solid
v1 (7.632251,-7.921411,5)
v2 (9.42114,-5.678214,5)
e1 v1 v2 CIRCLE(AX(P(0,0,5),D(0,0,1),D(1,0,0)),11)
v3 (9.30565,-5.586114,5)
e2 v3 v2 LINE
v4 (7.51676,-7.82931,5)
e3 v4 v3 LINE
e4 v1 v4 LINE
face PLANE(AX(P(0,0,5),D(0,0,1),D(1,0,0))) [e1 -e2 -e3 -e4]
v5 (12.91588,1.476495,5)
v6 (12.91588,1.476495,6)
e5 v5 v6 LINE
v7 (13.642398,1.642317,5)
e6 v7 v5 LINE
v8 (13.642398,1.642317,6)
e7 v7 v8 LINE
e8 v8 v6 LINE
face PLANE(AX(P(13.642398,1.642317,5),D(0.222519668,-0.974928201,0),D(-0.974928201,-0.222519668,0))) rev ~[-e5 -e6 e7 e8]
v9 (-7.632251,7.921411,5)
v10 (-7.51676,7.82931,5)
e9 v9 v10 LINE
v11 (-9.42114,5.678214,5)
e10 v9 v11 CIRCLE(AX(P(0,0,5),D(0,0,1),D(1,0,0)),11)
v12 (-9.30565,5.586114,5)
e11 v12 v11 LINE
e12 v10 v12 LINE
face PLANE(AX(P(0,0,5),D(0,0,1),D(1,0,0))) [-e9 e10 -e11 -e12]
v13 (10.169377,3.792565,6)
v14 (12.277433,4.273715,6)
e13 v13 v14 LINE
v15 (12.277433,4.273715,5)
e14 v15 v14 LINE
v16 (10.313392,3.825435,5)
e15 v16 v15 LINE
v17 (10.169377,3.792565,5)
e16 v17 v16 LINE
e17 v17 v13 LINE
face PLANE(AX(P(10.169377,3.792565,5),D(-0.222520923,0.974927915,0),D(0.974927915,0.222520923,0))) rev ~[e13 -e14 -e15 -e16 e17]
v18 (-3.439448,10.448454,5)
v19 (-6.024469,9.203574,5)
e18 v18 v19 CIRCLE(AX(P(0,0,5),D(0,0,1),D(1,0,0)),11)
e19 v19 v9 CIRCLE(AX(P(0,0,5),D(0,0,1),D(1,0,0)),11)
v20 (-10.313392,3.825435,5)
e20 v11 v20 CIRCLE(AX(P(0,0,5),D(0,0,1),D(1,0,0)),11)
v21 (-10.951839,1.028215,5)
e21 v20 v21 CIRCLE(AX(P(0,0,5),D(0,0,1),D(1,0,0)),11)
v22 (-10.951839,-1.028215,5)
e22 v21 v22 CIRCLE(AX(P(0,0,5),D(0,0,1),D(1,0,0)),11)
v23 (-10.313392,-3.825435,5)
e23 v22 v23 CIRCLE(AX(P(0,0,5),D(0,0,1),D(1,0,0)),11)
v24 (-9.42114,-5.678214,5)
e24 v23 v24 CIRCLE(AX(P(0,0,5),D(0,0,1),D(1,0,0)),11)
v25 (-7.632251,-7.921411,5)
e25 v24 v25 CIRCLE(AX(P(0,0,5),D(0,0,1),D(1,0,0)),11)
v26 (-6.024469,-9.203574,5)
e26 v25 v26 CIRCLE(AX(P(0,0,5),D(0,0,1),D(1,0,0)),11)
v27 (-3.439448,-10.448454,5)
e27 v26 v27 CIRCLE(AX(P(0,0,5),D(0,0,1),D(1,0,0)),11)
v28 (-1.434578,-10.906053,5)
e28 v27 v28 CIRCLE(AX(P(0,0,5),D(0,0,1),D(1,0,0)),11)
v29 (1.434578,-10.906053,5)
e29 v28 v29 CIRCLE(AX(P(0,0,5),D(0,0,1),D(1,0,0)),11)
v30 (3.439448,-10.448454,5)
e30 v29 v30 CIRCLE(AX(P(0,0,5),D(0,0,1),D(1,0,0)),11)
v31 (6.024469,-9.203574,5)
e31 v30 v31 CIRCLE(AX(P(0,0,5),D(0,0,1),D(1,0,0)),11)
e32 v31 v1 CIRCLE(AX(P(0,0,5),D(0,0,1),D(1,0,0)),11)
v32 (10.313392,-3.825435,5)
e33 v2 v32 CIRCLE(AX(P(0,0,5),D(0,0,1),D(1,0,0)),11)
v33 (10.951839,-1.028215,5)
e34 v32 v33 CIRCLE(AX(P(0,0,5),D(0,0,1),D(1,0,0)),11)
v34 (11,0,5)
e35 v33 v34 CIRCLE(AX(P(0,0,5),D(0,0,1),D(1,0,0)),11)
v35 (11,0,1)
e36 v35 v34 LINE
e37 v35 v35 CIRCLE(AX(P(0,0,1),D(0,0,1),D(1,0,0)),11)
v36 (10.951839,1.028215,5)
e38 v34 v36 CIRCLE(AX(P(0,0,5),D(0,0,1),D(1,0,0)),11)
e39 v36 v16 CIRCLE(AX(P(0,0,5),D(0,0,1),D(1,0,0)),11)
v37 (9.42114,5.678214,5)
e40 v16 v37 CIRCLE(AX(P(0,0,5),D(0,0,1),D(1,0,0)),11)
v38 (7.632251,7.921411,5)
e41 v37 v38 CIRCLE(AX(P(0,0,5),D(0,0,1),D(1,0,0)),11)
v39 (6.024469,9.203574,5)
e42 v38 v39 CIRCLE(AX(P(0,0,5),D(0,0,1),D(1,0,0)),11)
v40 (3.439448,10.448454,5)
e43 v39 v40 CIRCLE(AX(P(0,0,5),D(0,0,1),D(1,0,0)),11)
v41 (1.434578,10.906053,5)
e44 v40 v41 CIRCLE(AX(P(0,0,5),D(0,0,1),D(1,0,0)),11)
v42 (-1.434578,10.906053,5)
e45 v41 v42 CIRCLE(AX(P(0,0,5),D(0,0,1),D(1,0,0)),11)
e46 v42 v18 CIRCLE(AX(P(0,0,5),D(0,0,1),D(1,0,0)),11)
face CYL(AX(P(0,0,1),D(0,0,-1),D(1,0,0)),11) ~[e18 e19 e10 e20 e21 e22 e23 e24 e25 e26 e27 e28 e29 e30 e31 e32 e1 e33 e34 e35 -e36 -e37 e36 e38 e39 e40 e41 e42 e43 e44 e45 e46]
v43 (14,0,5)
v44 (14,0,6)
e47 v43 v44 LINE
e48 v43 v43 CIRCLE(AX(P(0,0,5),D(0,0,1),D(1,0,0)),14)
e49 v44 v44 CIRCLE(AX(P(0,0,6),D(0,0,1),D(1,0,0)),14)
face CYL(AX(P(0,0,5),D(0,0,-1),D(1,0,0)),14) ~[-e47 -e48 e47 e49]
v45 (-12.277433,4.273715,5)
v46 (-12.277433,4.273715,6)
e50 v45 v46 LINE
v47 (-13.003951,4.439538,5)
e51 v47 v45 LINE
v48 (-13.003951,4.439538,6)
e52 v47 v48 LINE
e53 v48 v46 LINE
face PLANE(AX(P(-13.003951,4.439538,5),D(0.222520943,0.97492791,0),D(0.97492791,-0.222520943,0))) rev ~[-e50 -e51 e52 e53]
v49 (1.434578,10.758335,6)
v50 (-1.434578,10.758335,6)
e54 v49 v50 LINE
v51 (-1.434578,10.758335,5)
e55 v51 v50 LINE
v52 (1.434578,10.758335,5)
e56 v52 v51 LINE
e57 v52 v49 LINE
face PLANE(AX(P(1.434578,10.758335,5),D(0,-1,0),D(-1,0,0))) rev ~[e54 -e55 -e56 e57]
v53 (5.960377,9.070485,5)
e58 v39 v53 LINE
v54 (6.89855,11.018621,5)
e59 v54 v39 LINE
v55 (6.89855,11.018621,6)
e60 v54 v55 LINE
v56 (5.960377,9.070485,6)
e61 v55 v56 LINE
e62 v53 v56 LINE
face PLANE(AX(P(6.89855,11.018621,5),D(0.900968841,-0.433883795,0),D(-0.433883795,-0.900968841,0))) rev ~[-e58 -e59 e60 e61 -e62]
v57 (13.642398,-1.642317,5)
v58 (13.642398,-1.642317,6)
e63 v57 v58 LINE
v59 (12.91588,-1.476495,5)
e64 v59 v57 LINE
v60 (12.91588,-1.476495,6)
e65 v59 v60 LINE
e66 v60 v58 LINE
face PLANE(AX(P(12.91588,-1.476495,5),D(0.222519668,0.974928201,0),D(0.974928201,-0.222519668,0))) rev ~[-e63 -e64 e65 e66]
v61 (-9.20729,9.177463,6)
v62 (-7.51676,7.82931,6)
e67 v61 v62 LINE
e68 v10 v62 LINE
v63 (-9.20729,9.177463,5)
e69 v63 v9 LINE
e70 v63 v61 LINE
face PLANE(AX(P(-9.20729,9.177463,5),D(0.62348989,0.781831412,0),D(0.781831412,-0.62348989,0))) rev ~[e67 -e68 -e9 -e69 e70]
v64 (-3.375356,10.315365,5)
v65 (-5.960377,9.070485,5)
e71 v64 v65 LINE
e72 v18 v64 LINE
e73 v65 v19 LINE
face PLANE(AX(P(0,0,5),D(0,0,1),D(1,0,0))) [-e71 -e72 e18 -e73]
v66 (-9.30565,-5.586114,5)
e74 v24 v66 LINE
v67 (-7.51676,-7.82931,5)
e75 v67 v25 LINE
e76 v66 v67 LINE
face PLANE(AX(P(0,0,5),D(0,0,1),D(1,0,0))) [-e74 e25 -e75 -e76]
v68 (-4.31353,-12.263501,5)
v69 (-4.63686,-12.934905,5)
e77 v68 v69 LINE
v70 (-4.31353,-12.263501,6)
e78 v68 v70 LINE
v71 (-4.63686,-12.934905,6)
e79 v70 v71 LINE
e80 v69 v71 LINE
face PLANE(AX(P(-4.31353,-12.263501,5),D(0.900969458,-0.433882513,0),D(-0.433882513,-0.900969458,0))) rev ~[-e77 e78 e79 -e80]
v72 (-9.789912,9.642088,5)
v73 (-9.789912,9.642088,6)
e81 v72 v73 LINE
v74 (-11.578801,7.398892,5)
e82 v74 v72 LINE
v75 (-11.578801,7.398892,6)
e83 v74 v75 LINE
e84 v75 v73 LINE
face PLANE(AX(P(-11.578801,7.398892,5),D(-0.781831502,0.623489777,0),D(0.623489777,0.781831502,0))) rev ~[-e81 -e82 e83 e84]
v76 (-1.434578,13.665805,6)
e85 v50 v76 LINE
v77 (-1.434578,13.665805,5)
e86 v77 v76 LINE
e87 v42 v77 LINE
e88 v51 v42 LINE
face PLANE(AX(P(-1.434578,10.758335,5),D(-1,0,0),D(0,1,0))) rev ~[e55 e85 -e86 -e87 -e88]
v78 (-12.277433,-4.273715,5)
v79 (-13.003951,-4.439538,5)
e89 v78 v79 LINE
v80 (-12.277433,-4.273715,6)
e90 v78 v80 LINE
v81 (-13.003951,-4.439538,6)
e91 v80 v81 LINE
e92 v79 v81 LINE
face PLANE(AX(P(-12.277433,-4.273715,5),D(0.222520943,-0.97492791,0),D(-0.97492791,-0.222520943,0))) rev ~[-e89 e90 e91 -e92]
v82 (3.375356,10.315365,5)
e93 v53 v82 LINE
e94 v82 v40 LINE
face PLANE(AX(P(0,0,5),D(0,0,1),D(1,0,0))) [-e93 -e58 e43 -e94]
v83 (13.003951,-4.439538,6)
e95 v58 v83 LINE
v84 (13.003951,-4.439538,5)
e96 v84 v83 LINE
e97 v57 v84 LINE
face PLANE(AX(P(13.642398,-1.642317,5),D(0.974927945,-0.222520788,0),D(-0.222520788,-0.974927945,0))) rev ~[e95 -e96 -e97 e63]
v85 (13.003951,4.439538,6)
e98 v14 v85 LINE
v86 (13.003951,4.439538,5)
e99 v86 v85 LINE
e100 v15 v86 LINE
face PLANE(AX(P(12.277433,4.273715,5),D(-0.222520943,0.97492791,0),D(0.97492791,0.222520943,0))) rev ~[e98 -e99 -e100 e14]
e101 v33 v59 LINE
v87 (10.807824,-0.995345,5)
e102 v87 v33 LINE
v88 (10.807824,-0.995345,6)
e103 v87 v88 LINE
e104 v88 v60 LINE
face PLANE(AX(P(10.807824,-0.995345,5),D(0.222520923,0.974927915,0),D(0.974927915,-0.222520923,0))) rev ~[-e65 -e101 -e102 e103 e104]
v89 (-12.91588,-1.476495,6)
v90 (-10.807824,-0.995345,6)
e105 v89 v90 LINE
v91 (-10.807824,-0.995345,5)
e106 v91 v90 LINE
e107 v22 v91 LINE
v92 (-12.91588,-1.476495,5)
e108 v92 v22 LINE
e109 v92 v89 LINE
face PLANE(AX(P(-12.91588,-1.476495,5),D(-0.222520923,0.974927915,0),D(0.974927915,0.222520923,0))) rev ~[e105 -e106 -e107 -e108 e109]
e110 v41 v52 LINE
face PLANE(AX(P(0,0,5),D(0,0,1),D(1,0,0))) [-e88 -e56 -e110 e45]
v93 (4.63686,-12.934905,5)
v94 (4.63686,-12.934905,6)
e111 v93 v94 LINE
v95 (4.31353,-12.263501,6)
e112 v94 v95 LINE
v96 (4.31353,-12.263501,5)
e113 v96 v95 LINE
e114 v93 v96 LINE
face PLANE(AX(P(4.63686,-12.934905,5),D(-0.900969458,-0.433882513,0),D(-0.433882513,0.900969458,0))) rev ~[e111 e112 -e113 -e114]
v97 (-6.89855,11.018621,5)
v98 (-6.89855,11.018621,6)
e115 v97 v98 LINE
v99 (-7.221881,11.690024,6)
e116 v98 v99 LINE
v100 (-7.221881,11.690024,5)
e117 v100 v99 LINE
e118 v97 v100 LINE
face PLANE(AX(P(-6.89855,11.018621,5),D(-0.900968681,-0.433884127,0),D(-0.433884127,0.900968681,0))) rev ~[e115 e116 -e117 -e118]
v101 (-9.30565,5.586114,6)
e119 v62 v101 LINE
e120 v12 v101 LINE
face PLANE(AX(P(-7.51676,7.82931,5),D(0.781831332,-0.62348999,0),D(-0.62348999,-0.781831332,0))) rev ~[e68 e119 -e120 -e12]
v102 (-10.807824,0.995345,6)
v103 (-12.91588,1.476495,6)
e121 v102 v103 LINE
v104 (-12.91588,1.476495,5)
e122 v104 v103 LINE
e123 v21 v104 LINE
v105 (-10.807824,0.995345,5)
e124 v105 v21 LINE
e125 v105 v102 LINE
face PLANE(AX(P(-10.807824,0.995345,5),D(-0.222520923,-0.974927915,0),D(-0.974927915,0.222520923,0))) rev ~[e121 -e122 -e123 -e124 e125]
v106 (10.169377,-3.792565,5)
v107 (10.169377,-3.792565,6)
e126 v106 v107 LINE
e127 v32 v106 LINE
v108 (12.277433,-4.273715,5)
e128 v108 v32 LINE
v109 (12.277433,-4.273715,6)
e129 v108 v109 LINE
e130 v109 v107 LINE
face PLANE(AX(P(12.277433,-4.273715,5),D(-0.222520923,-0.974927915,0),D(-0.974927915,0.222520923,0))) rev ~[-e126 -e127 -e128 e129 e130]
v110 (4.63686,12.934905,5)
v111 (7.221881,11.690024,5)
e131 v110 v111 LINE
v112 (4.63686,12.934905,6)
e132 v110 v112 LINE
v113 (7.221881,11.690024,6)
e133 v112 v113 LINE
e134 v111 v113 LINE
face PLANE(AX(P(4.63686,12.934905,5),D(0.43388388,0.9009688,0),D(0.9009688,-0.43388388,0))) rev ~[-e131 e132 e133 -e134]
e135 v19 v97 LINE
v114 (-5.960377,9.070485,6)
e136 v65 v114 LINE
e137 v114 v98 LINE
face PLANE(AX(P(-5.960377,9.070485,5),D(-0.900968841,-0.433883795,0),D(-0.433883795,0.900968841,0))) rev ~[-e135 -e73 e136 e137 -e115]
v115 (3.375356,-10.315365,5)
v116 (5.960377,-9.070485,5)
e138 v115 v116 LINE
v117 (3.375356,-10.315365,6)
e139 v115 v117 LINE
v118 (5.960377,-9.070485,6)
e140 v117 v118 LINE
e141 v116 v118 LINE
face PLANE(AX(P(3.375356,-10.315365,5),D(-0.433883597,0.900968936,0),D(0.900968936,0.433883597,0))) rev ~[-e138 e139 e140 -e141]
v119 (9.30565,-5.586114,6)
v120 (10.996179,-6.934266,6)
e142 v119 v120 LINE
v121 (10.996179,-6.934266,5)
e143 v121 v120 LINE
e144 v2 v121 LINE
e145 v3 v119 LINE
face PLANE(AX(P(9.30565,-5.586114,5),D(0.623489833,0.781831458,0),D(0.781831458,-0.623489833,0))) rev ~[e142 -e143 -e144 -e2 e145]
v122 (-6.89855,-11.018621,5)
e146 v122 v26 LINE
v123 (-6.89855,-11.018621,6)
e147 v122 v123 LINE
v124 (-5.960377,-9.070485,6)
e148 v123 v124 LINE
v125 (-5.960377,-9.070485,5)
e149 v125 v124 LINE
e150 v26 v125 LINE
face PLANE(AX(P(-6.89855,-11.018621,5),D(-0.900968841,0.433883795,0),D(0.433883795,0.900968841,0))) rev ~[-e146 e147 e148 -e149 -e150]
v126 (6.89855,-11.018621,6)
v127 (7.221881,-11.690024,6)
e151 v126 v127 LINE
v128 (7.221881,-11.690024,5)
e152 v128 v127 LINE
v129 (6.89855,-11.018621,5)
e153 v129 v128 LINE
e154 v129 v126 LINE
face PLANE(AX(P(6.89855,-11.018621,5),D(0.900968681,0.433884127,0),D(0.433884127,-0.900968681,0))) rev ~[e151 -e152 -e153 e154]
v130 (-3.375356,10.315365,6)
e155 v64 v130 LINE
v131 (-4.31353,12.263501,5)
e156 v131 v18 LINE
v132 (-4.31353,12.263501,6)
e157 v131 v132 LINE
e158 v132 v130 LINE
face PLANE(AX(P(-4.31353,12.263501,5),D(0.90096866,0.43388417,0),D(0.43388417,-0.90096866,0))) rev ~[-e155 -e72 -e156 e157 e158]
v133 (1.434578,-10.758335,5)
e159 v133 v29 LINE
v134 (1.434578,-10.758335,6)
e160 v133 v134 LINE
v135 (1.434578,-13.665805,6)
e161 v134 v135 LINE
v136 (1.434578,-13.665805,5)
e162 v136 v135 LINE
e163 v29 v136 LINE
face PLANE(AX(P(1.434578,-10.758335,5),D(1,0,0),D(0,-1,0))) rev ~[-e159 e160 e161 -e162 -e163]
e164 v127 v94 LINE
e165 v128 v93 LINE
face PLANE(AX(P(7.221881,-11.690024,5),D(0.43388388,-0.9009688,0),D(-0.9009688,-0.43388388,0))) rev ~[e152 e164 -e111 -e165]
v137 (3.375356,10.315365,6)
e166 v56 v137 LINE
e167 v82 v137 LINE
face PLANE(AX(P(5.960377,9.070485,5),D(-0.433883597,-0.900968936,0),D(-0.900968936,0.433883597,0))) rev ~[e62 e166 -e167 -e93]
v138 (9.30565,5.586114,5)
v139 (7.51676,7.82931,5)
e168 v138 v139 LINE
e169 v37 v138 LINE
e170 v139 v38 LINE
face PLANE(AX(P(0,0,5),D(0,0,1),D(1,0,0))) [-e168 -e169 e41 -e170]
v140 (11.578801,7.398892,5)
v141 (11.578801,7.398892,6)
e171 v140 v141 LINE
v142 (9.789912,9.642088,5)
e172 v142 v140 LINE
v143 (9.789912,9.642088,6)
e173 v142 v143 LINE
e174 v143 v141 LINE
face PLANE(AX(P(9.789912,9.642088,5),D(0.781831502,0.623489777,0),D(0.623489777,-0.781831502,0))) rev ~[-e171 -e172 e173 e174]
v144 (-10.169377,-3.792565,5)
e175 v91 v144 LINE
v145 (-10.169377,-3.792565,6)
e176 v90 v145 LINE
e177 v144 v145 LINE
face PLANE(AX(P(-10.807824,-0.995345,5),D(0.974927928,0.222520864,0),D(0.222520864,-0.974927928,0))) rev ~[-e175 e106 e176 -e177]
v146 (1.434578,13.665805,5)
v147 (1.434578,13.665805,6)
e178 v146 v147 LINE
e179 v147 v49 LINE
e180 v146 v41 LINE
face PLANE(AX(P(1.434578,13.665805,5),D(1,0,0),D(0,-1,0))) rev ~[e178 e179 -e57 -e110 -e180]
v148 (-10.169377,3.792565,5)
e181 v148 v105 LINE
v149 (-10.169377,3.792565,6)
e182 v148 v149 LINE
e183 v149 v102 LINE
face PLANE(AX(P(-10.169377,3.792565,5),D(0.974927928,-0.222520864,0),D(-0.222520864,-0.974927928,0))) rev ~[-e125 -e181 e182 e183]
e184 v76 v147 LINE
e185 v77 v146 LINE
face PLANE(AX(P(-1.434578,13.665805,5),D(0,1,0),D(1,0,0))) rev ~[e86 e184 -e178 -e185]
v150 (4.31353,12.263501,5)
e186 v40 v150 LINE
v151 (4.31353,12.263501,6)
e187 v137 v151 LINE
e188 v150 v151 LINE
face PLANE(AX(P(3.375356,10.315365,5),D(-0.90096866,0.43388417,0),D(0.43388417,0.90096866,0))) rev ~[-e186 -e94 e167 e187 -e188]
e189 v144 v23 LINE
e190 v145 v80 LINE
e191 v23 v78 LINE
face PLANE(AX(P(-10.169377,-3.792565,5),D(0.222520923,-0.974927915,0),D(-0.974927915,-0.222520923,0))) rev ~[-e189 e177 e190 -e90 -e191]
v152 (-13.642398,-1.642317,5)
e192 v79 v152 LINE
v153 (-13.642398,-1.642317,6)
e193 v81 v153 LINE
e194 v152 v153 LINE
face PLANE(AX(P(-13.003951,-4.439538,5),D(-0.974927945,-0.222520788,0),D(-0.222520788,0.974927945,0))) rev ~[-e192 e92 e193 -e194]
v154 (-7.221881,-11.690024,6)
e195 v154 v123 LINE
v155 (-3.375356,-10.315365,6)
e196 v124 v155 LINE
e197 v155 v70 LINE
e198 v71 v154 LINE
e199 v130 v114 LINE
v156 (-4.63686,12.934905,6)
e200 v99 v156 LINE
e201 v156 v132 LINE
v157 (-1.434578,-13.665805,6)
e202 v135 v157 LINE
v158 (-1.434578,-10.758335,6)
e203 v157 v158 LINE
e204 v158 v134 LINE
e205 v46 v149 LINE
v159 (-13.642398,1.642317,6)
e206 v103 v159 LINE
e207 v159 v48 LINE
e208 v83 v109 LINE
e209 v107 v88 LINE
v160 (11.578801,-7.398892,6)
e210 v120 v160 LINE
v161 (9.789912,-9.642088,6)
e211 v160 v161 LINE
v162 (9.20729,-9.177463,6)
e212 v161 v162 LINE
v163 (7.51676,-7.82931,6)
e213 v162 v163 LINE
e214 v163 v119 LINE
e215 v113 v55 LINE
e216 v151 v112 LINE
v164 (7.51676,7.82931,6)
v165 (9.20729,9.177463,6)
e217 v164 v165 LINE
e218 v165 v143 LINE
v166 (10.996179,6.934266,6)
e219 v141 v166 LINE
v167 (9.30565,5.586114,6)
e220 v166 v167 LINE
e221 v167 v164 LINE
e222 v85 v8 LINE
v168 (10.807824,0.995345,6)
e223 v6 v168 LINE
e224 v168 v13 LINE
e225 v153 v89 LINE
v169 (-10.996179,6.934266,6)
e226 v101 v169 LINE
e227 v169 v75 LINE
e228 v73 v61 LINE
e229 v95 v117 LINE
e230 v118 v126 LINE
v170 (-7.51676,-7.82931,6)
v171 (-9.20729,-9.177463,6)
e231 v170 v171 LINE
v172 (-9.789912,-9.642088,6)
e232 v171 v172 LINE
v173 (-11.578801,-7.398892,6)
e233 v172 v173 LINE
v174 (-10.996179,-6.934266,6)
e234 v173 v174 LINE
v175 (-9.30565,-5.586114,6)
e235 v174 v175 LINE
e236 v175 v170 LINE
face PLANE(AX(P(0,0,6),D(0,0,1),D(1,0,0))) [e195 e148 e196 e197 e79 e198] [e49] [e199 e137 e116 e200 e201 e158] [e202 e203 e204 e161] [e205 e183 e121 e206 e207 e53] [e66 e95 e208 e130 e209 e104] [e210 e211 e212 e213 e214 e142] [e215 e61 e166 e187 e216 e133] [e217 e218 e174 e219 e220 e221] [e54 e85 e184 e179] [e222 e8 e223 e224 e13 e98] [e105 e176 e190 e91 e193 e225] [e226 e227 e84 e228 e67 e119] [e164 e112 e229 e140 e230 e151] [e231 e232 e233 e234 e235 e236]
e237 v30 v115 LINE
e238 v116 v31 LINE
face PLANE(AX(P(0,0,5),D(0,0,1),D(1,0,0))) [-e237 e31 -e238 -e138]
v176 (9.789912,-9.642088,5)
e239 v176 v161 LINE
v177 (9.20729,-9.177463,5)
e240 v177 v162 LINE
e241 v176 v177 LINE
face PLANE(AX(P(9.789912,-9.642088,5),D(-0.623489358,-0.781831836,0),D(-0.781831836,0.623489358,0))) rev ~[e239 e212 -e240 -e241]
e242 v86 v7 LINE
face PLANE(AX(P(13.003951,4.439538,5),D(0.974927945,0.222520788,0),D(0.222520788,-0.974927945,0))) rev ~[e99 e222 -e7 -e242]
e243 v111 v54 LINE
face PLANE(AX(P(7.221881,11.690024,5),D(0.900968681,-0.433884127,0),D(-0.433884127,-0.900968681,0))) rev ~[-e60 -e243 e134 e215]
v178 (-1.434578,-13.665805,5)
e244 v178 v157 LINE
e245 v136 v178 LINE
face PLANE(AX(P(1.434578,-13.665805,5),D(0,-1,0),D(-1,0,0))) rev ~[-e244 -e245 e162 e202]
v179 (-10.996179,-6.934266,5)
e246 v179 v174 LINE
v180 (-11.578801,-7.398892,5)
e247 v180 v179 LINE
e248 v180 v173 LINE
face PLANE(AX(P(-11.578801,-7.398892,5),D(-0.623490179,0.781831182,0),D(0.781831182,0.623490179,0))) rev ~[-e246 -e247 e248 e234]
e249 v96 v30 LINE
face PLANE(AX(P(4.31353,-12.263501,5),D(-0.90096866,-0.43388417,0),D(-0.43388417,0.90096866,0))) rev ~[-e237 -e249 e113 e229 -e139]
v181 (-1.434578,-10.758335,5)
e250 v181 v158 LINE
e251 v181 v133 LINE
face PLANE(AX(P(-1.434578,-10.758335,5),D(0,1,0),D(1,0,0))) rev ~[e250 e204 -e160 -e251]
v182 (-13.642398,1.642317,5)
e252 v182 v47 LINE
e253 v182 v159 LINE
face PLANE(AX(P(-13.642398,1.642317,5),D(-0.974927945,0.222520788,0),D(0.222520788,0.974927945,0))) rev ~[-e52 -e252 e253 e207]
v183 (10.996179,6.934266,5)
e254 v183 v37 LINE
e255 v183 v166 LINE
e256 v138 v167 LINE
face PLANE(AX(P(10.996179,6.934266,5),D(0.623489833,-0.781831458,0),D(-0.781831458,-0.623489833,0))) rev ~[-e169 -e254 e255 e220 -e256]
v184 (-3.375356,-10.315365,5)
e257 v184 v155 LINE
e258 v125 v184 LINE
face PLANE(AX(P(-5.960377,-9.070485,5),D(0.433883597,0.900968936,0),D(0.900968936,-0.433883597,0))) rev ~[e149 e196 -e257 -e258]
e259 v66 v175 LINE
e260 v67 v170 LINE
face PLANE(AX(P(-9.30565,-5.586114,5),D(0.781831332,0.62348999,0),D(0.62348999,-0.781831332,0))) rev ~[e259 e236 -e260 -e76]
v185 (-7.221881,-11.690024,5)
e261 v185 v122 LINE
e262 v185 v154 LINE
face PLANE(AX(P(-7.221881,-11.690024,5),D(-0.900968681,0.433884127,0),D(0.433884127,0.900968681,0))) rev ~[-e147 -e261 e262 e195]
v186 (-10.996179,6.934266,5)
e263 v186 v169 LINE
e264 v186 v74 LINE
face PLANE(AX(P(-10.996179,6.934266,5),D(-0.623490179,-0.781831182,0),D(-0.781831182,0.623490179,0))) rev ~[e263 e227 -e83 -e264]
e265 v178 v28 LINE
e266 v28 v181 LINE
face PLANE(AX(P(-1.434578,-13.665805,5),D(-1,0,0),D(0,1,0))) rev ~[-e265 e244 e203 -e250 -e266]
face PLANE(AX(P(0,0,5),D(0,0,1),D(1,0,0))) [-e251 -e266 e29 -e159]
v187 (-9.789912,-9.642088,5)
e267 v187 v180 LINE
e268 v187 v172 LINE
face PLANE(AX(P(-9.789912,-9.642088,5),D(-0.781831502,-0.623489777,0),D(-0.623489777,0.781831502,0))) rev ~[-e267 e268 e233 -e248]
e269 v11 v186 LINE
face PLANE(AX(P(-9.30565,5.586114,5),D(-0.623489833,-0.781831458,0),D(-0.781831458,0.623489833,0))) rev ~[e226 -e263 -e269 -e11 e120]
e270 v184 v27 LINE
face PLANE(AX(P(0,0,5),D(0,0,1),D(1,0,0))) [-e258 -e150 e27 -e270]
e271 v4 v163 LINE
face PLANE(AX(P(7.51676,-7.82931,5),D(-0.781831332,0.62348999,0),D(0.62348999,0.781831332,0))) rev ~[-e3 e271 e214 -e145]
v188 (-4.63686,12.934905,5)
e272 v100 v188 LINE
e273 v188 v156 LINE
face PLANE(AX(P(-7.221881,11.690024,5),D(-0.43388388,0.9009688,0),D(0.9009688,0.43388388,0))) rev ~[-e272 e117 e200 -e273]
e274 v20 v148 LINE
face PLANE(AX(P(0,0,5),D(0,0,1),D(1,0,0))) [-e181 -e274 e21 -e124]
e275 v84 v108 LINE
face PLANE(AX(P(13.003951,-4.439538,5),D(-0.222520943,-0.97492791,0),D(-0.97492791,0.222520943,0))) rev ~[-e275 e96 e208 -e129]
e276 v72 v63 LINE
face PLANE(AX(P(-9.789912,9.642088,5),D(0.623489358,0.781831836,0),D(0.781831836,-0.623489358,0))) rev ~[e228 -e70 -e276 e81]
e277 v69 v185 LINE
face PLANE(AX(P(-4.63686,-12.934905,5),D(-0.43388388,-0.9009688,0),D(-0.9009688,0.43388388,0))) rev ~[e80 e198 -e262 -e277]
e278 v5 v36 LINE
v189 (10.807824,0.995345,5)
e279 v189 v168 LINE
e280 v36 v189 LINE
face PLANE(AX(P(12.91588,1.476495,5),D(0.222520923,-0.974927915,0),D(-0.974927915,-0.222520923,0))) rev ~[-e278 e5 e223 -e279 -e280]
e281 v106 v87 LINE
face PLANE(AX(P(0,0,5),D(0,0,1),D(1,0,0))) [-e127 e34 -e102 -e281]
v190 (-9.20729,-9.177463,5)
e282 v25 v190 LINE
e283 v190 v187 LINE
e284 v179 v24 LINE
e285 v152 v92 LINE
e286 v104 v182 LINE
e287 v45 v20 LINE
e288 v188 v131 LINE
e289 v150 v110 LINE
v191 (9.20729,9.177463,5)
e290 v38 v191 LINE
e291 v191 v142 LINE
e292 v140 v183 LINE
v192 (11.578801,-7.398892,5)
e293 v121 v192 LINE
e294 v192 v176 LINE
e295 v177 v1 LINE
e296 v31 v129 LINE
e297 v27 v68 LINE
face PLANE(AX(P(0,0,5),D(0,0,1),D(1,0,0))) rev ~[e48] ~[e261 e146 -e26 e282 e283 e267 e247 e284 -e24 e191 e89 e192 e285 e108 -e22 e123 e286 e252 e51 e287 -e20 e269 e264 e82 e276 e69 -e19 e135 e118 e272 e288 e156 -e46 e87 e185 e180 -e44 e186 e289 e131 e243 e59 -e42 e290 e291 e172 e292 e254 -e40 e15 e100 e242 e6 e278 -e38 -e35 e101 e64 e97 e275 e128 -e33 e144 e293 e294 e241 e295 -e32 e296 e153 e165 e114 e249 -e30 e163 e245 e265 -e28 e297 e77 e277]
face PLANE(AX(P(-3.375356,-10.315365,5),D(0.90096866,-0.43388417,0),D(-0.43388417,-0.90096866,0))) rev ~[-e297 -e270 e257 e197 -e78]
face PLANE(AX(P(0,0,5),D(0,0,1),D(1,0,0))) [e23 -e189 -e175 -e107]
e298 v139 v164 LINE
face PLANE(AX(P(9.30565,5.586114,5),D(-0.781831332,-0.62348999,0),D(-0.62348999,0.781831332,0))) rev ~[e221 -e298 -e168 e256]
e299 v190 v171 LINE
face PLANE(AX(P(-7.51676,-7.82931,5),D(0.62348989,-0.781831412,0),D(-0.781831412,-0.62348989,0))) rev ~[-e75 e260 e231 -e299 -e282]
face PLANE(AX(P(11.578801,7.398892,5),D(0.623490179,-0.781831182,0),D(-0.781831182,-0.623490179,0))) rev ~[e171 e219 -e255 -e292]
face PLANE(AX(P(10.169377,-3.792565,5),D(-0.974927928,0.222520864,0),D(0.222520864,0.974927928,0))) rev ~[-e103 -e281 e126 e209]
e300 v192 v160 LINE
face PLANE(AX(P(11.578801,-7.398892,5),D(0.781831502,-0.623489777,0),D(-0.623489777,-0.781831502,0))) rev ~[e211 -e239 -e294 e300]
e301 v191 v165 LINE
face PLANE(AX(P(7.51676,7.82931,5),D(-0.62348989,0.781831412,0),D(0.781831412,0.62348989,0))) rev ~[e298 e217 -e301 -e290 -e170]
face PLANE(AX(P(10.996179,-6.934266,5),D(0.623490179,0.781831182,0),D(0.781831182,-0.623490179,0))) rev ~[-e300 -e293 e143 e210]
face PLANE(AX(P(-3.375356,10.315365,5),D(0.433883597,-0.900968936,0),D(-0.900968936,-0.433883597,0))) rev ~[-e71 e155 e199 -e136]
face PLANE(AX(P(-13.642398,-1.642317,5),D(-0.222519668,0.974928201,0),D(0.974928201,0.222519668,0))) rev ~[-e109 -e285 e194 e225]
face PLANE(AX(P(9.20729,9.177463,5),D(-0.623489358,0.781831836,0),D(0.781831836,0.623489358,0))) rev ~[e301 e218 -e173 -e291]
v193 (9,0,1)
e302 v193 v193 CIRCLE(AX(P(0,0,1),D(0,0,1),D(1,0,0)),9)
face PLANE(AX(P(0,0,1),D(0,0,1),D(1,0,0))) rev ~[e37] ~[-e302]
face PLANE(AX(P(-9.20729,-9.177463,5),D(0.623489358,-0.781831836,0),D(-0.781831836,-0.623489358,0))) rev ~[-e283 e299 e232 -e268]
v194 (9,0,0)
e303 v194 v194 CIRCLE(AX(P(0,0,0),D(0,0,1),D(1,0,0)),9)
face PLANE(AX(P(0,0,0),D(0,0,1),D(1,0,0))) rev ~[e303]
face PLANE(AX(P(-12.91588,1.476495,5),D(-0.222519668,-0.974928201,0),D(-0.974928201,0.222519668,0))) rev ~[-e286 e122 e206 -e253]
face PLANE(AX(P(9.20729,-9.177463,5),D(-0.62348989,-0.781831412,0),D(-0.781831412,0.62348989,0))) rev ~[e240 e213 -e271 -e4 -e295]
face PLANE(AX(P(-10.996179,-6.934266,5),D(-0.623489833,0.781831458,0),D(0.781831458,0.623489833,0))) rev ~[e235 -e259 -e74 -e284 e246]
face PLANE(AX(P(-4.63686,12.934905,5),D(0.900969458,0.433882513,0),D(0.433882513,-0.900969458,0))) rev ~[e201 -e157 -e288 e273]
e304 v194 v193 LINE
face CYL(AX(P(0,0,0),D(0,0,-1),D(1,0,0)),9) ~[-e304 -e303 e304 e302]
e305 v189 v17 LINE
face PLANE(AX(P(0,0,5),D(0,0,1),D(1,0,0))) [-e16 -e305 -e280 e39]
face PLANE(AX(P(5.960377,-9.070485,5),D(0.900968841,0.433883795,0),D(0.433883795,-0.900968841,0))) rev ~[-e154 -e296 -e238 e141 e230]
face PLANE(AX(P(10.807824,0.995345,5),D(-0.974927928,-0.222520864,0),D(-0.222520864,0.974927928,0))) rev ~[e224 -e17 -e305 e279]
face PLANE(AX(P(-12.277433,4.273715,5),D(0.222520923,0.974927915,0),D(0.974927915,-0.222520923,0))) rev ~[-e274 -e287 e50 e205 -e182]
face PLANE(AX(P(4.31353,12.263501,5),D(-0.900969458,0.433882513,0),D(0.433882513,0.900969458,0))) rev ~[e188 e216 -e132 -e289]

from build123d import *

# Parameters (mm, degrees)
F0_R     = 9
F1_DEPTH = 1
F3_R     = 11
F4_DEPTH = 4
F6_R     = 14
F7_DEPTH = 1


with BuildPart() as f1:
    # F0 (on Top) → F1 (new body)
    with BuildSketch(Plane.XY):
        Circle(F0_R)
    extrude(amount=F1_DEPTH)

    # F3 (on offset) → F4 (join)
    with BuildSketch(Plane.XY.offset(1)):
        Circle(F3_R)
    extrude(amount=F4_DEPTH)

    # F6 (on offset) → F7 (join)
    with BuildSketch(Plane.XY.offset(5)):
        Circle(F6_R)
        with BuildLine():
            ThreePointArc((12.91588, 1.476495), (12.978953, 0.739444), (13, 0))
            ThreePointArc((13, 0), (12.978953, -0.739444), (12.91588, -1.476495))
            Line((12.91588, -1.476495), (13.642398, -1.642317))
            Line((13.642398, -1.642317), (13.003951, -4.439538))
            Line((13.003951, -4.439538), (12.277433, -4.273715))
            ThreePointArc((12.277433, -4.273715), (11.712595, -5.640489), (10.996179, -6.934266))
            Line((10.996179, -6.934266), (11.578801, -7.398892))
            Line((11.578801, -7.398892), (9.789912, -9.642088))
            Line((9.789912, -9.642088), (9.20729, -9.177463))
            ThreePointArc((9.20729, -9.177463), (8.105367, -10.163809), (6.89855, -11.018621))
            Line((6.89855, -11.018621), (7.221881, -11.690024))
            Line((7.221881, -11.690024), (4.63686, -12.934905))
            Line((4.63686, -12.934905), (4.31353, -12.263501))
            ThreePointArc((4.31353, -12.263501), (2.892772, -12.674063), (1.434578, -12.920603))
            Line((1.434578, -12.920603), (1.434578, -13.665805))
            Line((1.434578, -13.665805), (-1.434578, -13.665805))
            Line((-1.434578, -13.665805), (-1.434578, -12.920603))
            ThreePointArc((-1.434578, -12.920603), (-2.892772, -12.674063), (-4.31353, -12.263501))
            Line((-4.31353, -12.263501), (-4.63686, -12.934905))
            Line((-4.63686, -12.934905), (-7.221881, -11.690024))
            Line((-7.221881, -11.690024), (-6.89855, -11.018621))
            ThreePointArc((-6.89855, -11.018621), (-8.105367, -10.163809), (-9.20729, -9.177463))
            Line((-9.20729, -9.177463), (-9.789912, -9.642088))
            Line((-9.789912, -9.642088), (-11.578801, -7.398892))
            Line((-11.578801, -7.398892), (-10.996179, -6.934266))
            ThreePointArc((-10.996179, -6.934266), (-11.712595, -5.640489), (-12.277433, -4.273715))
            Line((-12.277433, -4.273715), (-13.003951, -4.439538))
            Line((-13.003951, -4.439538), (-13.642398, -1.642317))
            Line((-13.642398, -1.642317), (-12.91588, -1.476495))
            ThreePointArc((-12.91588, -1.476495), (-13, 0), (-12.91588, 1.476495))
            Line((-12.91588, 1.476495), (-13.642398, 1.642317))
            Line((-13.642398, 1.642317), (-13.003951, 4.439538))
            Line((-13.003951, 4.439538), (-12.277433, 4.273715))
            ThreePointArc((-12.277433, 4.273715), (-11.712595, 5.640489), (-10.996179, 6.934266))
            Line((-10.996179, 6.934266), (-11.578801, 7.398892))
            Line((-11.578801, 7.398892), (-9.789912, 9.642088))
            Line((-9.789912, 9.642088), (-9.20729, 9.177463))
            ThreePointArc((-9.20729, 9.177463), (-8.105367, 10.163809), (-6.89855, 11.018621))
            Line((-6.89855, 11.018621), (-7.221881, 11.690024))
            Line((-7.221881, 11.690024), (-4.63686, 12.934905))
            Line((-4.63686, 12.934905), (-4.31353, 12.263501))
            ThreePointArc((-4.31353, 12.263501), (-2.892772, 12.674063), (-1.434578, 12.920603))
            Line((-1.434578, 12.920603), (-1.434578, 13.665805))
            Line((-1.434578, 13.665805), (1.434578, 13.665805))
            Line((1.434578, 13.665805), (1.434578, 12.920603))
            ThreePointArc((1.434578, 12.920603), (2.892772, 12.674063), (4.31353, 12.263501))
            Line((4.31353, 12.263501), (4.63686, 12.934905))
            Line((4.63686, 12.934905), (7.221881, 11.690024))
            Line((7.221881, 11.690024), (6.89855, 11.018621))
            ThreePointArc((6.89855, 11.018621), (8.105367, 10.163809), (9.20729, 9.177463))
            Line((9.20729, 9.177463), (9.789912, 9.642088))
            Line((9.789912, 9.642088), (11.578801, 7.398892))
            Line((11.578801, 7.398892), (10.996179, 6.934266))
            ThreePointArc((10.996179, 6.934266), (11.712595, 5.640489), (12.277433, 4.273715))
            Line((12.277433, 4.273715), (13.003951, 4.439538))
            Line((13.003951, 4.439538), (13.642398, 1.642317))
            Line((13.642398, 1.642317), (12.91588, 1.476495))
        make_face(mode=Mode.SUBTRACT)
        with BuildLine():
            ThreePointArc((12.91588, -1.476495), (12.978953, -0.739444), (13, 0))
            ThreePointArc((13, 0), (12.978953, 0.739444), (12.91588, 1.476495))
            Line((12.91588, 1.476495), (10.807824, 0.995345))
            Line((10.807824, 0.995345), (10.169377, 3.792565))
            Line((10.169377, 3.792565), (12.277433, 4.273715))
            ThreePointArc((12.277433, 4.273715), (11.712595, 5.640489), (10.996179, 6.934266))
            Line((10.996179, 6.934266), (9.30565, 5.586114))
            Line((9.30565, 5.586114), (7.51676, 7.82931))
            Line((7.51676, 7.82931), (9.20729, 9.177463))
            ThreePointArc((9.20729, 9.177463), (8.105367, 10.163809), (6.89855, 11.018621))
            Line((6.89855, 11.018621), (5.960377, 9.070485))
            Line((5.960377, 9.070485), (3.375356, 10.315365))
            Line((3.375356, 10.315365), (4.31353, 12.263501))
            ThreePointArc((4.31353, 12.263501), (2.892772, 12.674063), (1.434578, 12.920603))
            Line((1.434578, 12.920603), (1.434578, 10.758335))
            Line((1.434578, 10.758335), (-1.434578, 10.758335))
            Line((-1.434578, 10.758335), (-1.434578, 12.920603))
            ThreePointArc((-1.434578, 12.920603), (-2.892772, 12.674063), (-4.31353, 12.263501))
            Line((-4.31353, 12.263501), (-3.375356, 10.315365))
            Line((-3.375356, 10.315365), (-5.960377, 9.070485))
            Line((-5.960377, 9.070485), (-6.89855, 11.018621))
            ThreePointArc((-6.89855, 11.018621), (-8.105367, 10.163809), (-9.20729, 9.177463))
            Line((-9.20729, 9.177463), (-7.51676, 7.82931))
            Line((-7.51676, 7.82931), (-9.30565, 5.586114))
            Line((-9.30565, 5.586114), (-10.996179, 6.934266))
            ThreePointArc((-10.996179, 6.934266), (-11.712595, 5.640489), (-12.277433, 4.273715))
            Line((-12.277433, 4.273715), (-10.169377, 3.792565))
            Line((-10.169377, 3.792565), (-10.807824, 0.995345))
            Line((-10.807824, 0.995345), (-12.91588, 1.476495))
            ThreePointArc((-12.91588, 1.476495), (-13, 0), (-12.91588, -1.476495))
            Line((-12.91588, -1.476495), (-10.807824, -0.995345))
            Line((-10.807824, -0.995345), (-10.169377, -3.792565))
            Line((-10.169377, -3.792565), (-12.277433, -4.273715))
            ThreePointArc((-12.277433, -4.273715), (-11.712595, -5.640489), (-10.996179, -6.934266))
            Line((-10.996179, -6.934266), (-9.30565, -5.586114))
            Line((-9.30565, -5.586114), (-7.51676, -7.82931))
            Line((-7.51676, -7.82931), (-9.20729, -9.177463))
            ThreePointArc((-9.20729, -9.177463), (-8.105367, -10.163809), (-6.89855, -11.018621))
            Line((-6.89855, -11.018621), (-5.960377, -9.070485))
            Line((-5.960377, -9.070485), (-3.375356, -10.315365))
            Line((-3.375356, -10.315365), (-4.31353, -12.263501))
            ThreePointArc((-4.31353, -12.263501), (-2.892772, -12.674063), (-1.434578, -12.920603))
            Line((-1.434578, -12.920603), (-1.434578, -10.758335))
            Line((-1.434578, -10.758335), (1.434578, -10.758335))
            Line((1.434578, -10.758335), (1.434578, -12.920603))
            ThreePointArc((1.434578, -12.920603), (2.892772, -12.674063), (4.31353, -12.263501))
            Line((4.31353, -12.263501), (3.375356, -10.315365))
            Line((3.375356, -10.315365), (5.960377, -9.070485))
            Line((5.960377, -9.070485), (6.89855, -11.018621))
            ThreePointArc((6.89855, -11.018621), (8.105367, -10.163809), (9.20729, -9.177463))
            Line((9.20729, -9.177463), (7.51676, -7.82931))
            Line((7.51676, -7.82931), (9.30565, -5.586114))
            Line((9.30565, -5.586114), (10.996179, -6.934266))
            ThreePointArc((10.996179, -6.934266), (11.712595, -5.640489), (12.277433, -4.273715))
            Line((12.277433, -4.273715), (10.169377, -3.792565))
            Line((10.169377, -3.792565), (10.807824, -0.995345))
            Line((10.807824, -0.995345), (12.91588, -1.476495))
        make_face()
    extrude(amount=F7_DEPTH)


solid = f1.part
